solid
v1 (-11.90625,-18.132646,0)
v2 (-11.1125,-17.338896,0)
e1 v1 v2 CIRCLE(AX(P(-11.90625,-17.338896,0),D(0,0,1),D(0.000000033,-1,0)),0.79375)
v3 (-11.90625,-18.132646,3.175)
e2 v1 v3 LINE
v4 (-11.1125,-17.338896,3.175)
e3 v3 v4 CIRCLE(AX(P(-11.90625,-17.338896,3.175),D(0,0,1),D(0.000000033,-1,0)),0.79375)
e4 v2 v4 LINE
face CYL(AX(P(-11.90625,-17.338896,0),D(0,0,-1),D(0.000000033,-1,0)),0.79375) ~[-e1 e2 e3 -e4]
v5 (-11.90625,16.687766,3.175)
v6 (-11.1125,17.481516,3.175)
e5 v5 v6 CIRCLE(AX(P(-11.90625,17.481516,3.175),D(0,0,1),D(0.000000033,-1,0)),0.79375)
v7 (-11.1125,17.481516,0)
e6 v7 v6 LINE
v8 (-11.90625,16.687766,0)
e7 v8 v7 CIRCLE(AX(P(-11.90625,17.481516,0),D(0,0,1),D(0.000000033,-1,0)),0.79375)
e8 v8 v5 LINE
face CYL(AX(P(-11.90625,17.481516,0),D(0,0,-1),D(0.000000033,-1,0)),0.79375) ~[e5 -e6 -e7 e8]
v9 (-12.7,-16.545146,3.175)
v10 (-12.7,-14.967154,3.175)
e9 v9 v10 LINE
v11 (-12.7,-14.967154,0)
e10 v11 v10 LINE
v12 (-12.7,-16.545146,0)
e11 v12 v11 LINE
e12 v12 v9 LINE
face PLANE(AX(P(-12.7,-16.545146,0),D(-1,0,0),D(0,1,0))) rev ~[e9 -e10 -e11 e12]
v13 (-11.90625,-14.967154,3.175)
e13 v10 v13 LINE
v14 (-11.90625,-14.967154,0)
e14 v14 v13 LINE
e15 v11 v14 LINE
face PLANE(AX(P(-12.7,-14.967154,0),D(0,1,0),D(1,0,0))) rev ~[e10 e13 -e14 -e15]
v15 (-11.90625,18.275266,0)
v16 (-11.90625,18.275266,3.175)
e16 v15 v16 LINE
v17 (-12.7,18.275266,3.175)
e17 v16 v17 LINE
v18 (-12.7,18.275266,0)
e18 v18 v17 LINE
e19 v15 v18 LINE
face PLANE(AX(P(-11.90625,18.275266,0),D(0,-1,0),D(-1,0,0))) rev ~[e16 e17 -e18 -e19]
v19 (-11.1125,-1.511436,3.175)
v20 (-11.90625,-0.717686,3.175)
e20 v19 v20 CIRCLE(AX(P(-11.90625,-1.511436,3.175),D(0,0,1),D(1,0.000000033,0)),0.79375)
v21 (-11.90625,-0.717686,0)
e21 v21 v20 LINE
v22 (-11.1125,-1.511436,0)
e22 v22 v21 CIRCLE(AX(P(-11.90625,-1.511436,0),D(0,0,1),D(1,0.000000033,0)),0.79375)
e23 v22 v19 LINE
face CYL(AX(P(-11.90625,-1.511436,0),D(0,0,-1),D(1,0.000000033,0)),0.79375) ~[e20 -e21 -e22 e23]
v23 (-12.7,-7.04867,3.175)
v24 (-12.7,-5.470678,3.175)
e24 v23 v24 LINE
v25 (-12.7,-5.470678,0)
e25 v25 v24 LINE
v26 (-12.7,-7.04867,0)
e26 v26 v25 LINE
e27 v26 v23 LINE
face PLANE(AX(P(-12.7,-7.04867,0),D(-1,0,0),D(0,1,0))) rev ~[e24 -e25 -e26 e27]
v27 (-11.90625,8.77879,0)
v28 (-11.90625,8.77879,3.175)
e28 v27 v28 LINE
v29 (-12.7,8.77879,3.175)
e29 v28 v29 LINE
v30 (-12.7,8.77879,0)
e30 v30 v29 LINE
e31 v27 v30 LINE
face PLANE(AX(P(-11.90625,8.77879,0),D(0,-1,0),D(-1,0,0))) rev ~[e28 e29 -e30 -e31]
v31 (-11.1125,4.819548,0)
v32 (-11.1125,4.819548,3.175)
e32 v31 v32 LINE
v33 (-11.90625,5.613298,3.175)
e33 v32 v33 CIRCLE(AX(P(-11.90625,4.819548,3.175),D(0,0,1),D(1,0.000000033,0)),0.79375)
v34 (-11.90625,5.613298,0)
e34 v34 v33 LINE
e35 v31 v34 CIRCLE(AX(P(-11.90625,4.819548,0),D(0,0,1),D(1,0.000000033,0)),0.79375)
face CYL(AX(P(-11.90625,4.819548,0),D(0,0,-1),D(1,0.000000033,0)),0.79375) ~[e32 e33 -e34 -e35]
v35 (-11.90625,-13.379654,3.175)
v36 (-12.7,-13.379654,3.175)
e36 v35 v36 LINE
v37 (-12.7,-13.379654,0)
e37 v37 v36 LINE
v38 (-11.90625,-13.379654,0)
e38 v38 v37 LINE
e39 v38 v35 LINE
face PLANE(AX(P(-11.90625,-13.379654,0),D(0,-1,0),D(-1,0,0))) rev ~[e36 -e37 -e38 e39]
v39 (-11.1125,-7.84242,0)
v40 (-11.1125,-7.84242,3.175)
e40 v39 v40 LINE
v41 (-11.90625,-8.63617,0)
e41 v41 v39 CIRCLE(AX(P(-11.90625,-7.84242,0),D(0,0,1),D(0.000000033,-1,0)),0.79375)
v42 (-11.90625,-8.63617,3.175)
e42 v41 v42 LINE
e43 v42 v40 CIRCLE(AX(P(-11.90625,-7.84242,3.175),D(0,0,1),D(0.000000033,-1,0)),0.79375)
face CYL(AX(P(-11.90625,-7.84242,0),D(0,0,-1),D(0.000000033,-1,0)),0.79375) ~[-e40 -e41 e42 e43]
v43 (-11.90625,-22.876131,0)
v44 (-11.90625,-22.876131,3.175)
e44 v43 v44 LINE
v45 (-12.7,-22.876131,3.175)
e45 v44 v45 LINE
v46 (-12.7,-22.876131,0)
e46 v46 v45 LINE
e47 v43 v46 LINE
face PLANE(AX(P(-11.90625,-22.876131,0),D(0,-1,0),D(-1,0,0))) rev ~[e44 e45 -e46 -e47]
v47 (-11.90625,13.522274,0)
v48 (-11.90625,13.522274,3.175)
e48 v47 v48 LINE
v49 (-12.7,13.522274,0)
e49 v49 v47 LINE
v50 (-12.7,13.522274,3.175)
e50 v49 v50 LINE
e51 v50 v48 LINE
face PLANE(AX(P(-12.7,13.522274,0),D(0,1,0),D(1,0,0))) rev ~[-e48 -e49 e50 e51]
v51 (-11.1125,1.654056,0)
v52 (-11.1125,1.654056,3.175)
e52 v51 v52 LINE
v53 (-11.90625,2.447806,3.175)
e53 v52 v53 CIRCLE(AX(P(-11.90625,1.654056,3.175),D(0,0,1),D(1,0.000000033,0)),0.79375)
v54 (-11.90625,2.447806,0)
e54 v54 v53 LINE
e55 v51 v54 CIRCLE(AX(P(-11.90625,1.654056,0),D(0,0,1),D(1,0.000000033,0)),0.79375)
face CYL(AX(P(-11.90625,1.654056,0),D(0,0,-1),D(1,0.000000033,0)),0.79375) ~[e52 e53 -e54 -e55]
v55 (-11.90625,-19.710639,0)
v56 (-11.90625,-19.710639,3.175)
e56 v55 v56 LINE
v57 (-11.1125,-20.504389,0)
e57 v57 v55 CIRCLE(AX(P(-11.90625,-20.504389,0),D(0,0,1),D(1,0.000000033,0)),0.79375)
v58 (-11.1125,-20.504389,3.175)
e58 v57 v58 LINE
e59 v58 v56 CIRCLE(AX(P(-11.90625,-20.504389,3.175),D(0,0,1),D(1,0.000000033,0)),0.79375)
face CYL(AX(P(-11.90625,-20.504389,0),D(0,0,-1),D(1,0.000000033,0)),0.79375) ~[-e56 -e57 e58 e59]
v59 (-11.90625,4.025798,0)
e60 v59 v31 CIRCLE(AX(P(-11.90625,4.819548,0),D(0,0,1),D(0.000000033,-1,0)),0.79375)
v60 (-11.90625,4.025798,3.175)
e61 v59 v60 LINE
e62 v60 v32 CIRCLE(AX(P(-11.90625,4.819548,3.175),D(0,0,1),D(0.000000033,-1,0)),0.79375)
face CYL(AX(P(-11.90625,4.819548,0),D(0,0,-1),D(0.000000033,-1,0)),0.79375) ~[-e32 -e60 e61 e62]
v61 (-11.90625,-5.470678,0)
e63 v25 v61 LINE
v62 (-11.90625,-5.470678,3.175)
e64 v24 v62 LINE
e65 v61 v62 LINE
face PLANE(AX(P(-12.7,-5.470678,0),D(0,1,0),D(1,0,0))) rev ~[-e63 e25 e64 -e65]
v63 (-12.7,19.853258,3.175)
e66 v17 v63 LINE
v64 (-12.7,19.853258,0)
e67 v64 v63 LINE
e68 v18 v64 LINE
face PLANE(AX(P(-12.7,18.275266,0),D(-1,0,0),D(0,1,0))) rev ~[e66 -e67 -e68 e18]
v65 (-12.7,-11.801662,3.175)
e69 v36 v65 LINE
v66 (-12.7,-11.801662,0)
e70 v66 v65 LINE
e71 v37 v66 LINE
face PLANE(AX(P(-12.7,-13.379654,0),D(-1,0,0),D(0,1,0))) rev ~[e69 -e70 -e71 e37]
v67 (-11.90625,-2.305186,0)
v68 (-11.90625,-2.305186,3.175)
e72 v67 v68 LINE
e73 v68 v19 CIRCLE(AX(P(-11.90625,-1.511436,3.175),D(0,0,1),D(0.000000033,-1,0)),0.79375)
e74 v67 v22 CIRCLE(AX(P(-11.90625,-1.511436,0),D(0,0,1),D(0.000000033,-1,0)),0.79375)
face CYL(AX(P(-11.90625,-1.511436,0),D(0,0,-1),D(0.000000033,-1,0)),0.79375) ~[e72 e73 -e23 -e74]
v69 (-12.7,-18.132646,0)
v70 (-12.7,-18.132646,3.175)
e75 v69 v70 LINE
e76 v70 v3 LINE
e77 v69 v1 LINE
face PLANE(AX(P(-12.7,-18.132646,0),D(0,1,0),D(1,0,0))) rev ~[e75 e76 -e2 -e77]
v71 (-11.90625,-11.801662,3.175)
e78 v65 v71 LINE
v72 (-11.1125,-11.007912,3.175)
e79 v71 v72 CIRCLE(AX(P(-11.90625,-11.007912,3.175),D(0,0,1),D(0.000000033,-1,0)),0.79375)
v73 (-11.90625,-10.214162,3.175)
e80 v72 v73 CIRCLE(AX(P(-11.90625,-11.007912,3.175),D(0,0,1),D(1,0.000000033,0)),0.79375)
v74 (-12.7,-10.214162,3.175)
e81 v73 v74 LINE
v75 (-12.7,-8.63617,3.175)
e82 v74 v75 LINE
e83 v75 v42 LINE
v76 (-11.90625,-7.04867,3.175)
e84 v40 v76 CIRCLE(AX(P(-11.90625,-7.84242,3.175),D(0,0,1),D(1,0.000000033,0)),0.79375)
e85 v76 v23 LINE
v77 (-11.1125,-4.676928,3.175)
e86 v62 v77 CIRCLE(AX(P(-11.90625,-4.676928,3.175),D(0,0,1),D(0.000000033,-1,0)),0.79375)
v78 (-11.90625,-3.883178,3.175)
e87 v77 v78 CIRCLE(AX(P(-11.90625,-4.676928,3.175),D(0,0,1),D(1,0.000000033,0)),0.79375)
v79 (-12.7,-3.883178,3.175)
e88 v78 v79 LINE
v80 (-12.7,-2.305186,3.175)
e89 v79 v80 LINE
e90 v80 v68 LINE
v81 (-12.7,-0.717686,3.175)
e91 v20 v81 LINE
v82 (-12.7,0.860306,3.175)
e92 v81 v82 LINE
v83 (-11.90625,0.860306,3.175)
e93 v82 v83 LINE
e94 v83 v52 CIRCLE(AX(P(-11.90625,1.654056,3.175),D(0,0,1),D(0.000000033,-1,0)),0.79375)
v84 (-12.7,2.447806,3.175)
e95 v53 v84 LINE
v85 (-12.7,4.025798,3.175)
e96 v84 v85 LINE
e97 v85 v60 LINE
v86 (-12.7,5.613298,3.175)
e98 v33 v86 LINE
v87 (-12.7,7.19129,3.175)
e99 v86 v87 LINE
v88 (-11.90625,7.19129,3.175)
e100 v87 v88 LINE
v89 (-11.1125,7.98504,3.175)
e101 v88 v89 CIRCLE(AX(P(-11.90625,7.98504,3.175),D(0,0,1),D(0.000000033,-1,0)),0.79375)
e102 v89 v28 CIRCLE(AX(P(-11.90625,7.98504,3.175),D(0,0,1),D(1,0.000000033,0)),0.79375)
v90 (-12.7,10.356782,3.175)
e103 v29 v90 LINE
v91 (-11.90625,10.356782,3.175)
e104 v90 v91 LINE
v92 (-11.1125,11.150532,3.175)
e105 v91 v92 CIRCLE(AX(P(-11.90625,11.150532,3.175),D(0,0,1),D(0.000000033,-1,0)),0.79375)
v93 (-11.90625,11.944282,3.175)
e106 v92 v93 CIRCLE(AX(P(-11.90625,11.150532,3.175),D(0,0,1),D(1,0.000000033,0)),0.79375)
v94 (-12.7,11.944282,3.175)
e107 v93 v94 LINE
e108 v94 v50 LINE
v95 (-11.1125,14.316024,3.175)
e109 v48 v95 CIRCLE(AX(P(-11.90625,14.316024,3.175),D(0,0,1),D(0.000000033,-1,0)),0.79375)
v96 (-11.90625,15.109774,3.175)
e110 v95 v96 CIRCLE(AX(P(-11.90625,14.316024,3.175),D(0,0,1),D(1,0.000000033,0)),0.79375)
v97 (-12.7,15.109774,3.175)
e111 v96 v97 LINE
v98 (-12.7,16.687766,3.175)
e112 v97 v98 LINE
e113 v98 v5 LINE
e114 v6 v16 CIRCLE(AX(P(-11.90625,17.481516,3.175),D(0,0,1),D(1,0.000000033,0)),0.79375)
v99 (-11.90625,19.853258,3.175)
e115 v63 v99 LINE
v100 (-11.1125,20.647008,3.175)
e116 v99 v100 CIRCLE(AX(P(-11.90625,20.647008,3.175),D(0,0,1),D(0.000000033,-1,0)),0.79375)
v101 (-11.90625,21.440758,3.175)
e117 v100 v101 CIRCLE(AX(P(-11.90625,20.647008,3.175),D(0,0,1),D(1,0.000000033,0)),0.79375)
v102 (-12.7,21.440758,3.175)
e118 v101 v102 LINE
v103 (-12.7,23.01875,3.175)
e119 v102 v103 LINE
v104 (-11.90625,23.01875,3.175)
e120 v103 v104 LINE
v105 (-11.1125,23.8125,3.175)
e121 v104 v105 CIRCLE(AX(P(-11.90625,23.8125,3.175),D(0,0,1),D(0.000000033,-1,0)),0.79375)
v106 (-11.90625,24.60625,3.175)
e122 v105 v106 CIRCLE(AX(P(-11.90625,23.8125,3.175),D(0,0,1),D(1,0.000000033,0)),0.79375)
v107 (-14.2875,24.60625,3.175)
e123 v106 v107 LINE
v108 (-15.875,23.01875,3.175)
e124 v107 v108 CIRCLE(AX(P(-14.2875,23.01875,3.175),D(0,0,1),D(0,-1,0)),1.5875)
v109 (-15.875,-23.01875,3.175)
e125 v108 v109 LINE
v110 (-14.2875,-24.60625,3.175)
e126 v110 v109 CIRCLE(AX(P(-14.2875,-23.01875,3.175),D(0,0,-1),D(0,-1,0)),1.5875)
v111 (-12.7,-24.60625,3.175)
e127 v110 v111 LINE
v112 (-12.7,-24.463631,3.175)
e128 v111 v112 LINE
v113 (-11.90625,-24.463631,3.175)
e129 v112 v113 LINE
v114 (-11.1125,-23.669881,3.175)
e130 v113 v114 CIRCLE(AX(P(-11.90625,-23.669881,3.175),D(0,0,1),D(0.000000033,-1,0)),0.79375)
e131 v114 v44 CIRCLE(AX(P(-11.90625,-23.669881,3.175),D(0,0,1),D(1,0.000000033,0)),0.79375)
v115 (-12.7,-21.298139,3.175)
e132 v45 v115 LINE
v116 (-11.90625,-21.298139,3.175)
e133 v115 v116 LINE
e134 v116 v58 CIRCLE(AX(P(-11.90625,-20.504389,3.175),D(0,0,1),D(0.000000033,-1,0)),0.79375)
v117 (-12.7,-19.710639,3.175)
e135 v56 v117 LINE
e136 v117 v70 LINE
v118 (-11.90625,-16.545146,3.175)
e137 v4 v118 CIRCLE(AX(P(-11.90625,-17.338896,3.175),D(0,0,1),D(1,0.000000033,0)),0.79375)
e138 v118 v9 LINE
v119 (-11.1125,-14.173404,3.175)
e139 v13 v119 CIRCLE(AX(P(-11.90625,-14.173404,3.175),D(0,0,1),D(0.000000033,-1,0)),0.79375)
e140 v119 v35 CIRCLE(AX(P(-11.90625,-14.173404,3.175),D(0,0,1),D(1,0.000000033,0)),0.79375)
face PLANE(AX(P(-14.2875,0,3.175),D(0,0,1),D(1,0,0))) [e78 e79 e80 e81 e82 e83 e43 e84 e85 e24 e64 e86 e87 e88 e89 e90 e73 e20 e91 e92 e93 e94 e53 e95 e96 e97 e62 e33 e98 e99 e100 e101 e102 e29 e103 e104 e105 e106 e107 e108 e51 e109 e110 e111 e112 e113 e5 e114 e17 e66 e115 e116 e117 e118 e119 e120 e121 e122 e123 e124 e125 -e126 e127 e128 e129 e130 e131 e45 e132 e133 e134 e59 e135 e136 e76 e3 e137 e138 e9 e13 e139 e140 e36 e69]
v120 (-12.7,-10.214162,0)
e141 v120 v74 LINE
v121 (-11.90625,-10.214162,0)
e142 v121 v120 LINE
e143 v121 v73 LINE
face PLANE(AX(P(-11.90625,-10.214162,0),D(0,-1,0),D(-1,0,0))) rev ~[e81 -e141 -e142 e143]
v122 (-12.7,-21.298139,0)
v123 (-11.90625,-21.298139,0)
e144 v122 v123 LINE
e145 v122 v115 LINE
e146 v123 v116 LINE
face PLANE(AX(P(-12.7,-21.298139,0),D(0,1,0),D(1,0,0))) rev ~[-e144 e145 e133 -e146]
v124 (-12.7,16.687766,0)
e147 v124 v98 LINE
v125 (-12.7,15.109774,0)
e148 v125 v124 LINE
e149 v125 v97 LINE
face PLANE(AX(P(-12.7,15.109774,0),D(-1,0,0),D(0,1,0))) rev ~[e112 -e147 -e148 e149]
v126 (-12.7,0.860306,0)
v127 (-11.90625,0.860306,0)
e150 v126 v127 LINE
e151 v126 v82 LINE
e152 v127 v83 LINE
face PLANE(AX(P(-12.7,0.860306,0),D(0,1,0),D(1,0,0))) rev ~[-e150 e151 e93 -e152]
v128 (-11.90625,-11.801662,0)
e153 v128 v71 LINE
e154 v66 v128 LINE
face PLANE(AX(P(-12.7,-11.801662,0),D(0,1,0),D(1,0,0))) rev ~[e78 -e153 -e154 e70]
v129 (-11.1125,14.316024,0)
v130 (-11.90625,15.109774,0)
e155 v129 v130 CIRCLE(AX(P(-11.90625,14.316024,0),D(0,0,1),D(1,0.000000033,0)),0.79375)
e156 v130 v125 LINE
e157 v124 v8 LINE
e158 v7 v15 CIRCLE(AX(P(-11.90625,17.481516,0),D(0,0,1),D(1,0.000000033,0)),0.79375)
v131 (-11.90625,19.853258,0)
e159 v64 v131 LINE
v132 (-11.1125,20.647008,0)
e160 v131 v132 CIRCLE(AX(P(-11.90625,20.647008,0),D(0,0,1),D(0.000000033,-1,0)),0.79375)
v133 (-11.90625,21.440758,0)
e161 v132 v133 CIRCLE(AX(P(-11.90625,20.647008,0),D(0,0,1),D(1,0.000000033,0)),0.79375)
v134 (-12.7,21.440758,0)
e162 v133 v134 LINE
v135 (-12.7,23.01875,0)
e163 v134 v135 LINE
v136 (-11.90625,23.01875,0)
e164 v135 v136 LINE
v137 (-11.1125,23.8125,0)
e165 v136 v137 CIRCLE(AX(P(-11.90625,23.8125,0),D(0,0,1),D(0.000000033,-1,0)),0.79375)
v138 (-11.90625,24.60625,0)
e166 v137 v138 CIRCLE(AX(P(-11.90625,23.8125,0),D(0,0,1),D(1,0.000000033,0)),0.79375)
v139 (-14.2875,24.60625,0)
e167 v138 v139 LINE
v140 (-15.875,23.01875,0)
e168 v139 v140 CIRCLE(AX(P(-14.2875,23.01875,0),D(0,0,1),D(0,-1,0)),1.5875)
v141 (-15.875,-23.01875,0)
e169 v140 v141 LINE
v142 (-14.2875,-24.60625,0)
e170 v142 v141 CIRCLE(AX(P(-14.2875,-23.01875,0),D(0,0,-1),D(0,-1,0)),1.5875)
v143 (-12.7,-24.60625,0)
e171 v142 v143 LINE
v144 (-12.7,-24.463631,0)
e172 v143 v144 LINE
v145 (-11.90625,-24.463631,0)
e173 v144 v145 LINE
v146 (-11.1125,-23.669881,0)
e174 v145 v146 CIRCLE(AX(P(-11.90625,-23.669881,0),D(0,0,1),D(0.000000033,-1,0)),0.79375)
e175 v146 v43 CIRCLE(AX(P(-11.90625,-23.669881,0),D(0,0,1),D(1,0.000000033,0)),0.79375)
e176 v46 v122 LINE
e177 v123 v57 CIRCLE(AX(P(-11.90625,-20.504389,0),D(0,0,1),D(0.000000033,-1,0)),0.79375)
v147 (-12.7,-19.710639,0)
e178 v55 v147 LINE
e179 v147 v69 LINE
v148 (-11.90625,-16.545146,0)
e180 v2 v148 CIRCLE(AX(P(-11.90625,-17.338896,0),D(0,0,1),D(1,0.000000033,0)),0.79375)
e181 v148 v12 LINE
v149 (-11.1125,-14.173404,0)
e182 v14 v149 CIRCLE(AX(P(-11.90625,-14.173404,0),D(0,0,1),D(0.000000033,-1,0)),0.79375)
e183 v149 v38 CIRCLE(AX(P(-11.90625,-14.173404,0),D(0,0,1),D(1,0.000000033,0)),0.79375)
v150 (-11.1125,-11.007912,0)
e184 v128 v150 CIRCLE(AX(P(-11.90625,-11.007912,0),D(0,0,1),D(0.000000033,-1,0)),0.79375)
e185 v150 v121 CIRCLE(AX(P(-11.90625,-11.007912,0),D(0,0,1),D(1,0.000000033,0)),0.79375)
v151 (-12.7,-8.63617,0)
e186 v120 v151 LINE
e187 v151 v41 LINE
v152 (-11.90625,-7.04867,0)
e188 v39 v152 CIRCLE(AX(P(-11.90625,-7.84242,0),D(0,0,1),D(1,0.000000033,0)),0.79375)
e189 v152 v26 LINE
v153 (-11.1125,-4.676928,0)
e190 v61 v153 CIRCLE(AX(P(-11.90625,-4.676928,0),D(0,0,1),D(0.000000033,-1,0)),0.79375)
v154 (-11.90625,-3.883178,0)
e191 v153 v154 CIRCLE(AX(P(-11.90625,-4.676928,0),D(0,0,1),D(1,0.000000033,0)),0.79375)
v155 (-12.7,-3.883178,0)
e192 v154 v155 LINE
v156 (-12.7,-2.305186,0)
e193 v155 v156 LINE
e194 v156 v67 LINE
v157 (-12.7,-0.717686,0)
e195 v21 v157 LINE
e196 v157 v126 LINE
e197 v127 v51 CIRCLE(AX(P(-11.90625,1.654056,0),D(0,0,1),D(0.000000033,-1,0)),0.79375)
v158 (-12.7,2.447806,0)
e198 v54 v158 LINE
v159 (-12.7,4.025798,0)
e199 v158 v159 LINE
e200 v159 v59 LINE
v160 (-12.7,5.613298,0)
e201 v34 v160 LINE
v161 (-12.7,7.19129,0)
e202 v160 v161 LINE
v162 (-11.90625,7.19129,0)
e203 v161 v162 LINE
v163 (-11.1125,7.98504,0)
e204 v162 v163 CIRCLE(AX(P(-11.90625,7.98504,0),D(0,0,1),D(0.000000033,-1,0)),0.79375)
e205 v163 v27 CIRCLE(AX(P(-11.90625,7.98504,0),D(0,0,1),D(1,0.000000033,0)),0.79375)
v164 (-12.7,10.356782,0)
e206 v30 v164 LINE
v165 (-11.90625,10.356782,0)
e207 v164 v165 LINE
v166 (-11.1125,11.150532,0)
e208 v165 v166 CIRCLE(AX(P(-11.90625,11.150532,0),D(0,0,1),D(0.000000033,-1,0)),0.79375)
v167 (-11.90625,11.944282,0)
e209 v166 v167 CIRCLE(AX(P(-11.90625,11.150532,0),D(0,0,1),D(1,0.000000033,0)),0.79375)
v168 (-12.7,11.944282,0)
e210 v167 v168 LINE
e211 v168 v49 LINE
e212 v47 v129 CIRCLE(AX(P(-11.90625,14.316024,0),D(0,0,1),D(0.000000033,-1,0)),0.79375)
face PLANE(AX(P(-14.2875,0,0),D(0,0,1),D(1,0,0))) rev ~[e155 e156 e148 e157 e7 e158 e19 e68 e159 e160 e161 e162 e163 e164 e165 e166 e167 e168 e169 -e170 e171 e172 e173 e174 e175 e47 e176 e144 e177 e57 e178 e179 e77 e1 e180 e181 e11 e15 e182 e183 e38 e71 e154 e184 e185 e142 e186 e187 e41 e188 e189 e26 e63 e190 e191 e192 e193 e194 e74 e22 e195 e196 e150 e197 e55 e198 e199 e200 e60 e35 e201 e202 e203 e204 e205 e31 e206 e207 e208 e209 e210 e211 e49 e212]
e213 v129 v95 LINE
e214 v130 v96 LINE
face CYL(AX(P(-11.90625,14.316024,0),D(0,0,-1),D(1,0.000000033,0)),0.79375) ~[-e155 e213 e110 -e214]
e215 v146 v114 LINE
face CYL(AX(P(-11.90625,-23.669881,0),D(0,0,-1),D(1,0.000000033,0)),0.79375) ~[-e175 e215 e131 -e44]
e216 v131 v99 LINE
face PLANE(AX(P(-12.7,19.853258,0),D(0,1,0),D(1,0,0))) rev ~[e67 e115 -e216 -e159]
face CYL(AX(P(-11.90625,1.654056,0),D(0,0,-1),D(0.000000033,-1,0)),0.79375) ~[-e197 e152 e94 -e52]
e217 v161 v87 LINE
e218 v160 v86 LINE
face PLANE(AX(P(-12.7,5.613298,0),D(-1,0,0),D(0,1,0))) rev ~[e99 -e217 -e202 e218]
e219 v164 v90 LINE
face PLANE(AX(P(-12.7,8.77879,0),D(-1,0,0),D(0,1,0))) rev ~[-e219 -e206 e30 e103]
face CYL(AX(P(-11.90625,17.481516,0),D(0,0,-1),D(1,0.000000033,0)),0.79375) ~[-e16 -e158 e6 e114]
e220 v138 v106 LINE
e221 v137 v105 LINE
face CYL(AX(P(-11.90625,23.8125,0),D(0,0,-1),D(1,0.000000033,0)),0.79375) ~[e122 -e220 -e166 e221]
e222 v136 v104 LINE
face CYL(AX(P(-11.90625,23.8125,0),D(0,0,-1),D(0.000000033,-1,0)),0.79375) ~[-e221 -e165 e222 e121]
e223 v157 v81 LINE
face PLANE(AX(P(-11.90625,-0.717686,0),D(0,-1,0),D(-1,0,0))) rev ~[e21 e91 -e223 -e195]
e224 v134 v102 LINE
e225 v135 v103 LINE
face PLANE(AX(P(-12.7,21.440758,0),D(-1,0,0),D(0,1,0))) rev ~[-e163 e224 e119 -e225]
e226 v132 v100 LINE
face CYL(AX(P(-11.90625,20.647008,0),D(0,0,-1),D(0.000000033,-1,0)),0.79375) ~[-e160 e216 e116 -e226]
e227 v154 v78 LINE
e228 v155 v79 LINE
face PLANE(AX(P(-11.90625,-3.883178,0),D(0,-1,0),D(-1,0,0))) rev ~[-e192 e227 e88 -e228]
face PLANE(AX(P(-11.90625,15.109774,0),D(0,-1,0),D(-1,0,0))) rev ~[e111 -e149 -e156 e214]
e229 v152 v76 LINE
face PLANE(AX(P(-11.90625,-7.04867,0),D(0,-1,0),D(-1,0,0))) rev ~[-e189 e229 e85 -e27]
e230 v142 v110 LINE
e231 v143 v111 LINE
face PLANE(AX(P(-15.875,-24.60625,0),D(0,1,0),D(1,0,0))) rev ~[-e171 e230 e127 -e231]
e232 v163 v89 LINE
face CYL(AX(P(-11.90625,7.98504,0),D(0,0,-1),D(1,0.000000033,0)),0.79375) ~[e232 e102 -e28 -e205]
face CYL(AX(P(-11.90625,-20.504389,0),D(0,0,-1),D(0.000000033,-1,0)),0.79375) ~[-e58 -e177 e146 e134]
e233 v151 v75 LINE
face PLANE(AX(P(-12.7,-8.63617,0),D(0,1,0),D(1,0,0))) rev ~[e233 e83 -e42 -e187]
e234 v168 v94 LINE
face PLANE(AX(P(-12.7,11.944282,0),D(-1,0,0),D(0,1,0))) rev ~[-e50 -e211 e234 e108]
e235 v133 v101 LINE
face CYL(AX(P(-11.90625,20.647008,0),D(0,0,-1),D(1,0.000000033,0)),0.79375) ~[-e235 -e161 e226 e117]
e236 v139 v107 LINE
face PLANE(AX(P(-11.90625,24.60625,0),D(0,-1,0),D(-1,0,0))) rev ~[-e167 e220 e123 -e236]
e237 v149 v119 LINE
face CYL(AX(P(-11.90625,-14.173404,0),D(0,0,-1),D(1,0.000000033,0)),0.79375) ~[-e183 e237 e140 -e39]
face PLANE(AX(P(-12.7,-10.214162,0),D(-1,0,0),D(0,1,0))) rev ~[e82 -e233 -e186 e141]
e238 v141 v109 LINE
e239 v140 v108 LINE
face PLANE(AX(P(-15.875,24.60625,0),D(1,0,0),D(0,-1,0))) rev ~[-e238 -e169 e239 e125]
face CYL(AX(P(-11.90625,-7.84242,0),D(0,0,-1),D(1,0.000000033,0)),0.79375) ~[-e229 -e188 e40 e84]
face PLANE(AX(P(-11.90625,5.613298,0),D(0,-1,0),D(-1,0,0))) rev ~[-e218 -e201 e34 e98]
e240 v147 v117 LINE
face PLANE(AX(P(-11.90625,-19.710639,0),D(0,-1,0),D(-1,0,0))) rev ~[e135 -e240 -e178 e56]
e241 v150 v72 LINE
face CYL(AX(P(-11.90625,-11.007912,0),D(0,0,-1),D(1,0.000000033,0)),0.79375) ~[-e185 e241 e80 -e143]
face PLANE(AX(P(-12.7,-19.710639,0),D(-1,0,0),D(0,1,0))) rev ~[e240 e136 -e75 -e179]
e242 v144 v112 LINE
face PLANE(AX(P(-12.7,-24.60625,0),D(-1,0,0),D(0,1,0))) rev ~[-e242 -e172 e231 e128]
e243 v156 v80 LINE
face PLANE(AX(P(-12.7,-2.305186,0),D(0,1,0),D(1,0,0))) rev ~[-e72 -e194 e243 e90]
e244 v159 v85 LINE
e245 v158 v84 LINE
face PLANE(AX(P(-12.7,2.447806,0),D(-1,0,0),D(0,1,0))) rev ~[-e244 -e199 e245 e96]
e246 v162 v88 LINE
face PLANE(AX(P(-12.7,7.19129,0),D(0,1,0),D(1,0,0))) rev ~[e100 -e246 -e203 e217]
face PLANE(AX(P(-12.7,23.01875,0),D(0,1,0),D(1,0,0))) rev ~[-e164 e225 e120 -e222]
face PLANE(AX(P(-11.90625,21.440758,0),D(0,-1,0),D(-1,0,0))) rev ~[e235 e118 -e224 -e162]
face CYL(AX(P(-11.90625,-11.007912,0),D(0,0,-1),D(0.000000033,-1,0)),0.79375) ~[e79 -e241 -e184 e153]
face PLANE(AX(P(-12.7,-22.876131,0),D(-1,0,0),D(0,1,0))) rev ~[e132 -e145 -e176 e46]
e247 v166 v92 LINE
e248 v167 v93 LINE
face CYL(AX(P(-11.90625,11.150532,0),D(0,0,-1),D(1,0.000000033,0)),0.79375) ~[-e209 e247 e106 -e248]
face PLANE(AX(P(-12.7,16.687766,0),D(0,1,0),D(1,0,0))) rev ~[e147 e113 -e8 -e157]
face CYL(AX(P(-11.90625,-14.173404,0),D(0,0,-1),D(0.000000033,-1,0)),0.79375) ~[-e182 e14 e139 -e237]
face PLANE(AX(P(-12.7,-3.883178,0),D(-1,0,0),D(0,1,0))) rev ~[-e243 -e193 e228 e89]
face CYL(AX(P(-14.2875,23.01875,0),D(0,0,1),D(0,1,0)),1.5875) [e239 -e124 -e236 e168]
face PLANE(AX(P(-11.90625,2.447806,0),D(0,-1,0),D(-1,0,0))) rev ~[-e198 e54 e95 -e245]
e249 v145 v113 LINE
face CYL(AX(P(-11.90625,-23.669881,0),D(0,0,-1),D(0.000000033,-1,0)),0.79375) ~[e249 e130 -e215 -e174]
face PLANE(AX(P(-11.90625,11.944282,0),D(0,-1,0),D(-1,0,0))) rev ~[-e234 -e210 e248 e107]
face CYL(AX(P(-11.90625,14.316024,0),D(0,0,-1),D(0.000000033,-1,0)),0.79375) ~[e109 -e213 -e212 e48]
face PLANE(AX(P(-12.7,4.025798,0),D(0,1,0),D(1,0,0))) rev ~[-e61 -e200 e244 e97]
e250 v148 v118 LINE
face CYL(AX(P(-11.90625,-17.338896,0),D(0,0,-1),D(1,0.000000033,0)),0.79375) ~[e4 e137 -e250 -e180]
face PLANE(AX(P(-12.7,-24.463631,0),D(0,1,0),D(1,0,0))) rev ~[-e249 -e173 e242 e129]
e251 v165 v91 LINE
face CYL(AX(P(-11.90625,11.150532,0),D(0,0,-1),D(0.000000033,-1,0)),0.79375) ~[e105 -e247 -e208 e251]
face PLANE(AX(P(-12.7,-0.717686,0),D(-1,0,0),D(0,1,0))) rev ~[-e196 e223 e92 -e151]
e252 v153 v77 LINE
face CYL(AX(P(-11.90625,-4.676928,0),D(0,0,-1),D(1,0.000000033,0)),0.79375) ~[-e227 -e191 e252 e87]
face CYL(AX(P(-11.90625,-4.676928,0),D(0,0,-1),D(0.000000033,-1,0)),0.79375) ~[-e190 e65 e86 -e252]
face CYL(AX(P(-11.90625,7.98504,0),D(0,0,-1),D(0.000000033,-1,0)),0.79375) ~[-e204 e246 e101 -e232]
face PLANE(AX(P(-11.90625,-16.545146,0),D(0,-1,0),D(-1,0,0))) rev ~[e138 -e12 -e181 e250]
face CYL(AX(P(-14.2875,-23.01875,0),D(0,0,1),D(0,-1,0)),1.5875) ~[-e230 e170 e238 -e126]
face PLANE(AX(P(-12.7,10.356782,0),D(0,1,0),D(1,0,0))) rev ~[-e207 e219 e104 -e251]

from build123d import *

# Parameters (mm, degrees)
F1_DEPTH = 3.175
F2_R     = 1.5875


with BuildPart() as f1:
    # F0 (on Top) → F1 (new body)
    with BuildSketch(Plane.XY):
        Polygon((-15.875, -24.60625), (-12.7, -24.60625), (-12.7, -24.463631), (-12.7, -22.876131), (-12.7, -21.298139), (-12.7, -19.710639), (-12.7, -18.132646), (-12.7, -16.545146), (-12.7, -14.967154), (-12.7, -13.379654), (-12.7, -11.801662), (-12.7, -10.214162), (-12.7, -8.63617), (-12.7, -7.04867), (-12.7, -5.470678), (-12.7, -3.883178), (-12.7, -2.305186), (-12.7, -0.717686), (-12.7, 0.860306), (-12.7, 2.447806), (-12.7, 4.025798), (-12.7, 5.613298), (-12.7, 7.19129), (-12.7, 8.77879), (-12.7, 10.356782), (-12.7, 11.944282), (-12.7, 13.522274), (-12.7, 15.109774), (-12.7, 16.687766), (-12.7, 18.275266), (-12.7, 19.853258), (-12.7, 21.440758), (-12.7, 23.01875), (-12.7, 24.60625), (-15.875, 24.60625), align=None)
        with BuildLine():
            Line((-12.7, -22.876131), (-12.7, -24.463631))
            Line((-12.7, -24.463631), (-11.90625, -24.463631))
            ThreePointArc((-11.90625, -24.463631), (-11.344984, -24.231147), (-11.1125, -23.669881))
            ThreePointArc((-11.1125, -23.669881), (-11.344984, -23.108615), (-11.90625, -22.876131))
            Line((-11.90625, -22.876131), (-12.7, -22.876131))
        make_face()
        with BuildLine():
            Line((-12.7, -19.710639), (-12.7, -21.298139))
            Line((-12.7, -21.298139), (-11.90625, -21.298139))
            ThreePointArc((-11.90625, -21.298139), (-11.344984, -21.065655), (-11.1125, -20.504389))
            ThreePointArc((-11.1125, -20.504389), (-11.344984, -19.943123), (-11.90625, -19.710639))
            Line((-11.90625, -19.710639), (-12.7, -19.710639))
        make_face()
        with BuildLine():
            Line((-12.7, -16.545146), (-12.7, -18.132646))
            Line((-12.7, -18.132646), (-11.90625, -18.132646))
            ThreePointArc((-11.90625, -18.132646), (-11.344984, -17.900162), (-11.1125, -17.338896))
            ThreePointArc((-11.1125, -17.338896), (-11.344984, -16.77763), (-11.90625, -16.545146))
            Line((-11.90625, -16.545146), (-12.7, -16.545146))
        make_face()
        with BuildLine():
            Line((-12.7, -13.379654), (-12.7, -14.967154))
            Line((-12.7, -14.967154), (-11.90625, -14.967154))
            ThreePointArc((-11.90625, -14.967154), (-11.344984, -14.73467), (-11.1125, -14.173404))
            ThreePointArc((-11.1125, -14.173404), (-11.344984, -13.612138), (-11.90625, -13.379654))
            Line((-11.90625, -13.379654), (-12.7, -13.379654))
        make_face()
        with BuildLine():
            Line((-12.7, -10.214162), (-12.7, -11.801662))
            Line((-12.7, -11.801662), (-11.90625, -11.801662))
            ThreePointArc((-11.90625, -11.801662), (-11.344984, -11.569178), (-11.1125, -11.007912))
            ThreePointArc((-11.1125, -11.007912), (-11.344984, -10.446646), (-11.90625, -10.214162))
            Line((-11.90625, -10.214162), (-12.7, -10.214162))
        make_face()
        with BuildLine():
            Line((-12.7, -7.04867), (-12.7, -8.63617))
            Line((-12.7, -8.63617), (-11.90625, -8.63617))
            ThreePointArc((-11.90625, -8.63617), (-11.344984, -8.403686), (-11.1125, -7.84242))
            ThreePointArc((-11.1125, -7.84242), (-11.344984, -7.281154), (-11.90625, -7.04867))
            Line((-11.90625, -7.04867), (-12.7, -7.04867))
        make_face()
        with BuildLine():
            Line((-12.7, -3.883178), (-12.7, -5.470678))
            Line((-12.7, -5.470678), (-11.90625, -5.470678))
            ThreePointArc((-11.90625, -5.470678), (-11.344984, -5.238194), (-11.1125, -4.676928))
            ThreePointArc((-11.1125, -4.676928), (-11.344984, -4.115662), (-11.90625, -3.883178))
            Line((-11.90625, -3.883178), (-12.7, -3.883178))
        make_face()
        with BuildLine():
            Line((-12.7, -0.717686), (-12.7, -2.305186))
            Line((-12.7, -2.305186), (-11.90625, -2.305186))
            ThreePointArc((-11.90625, -2.305186), (-11.344984, -2.072702), (-11.1125, -1.511436))
            ThreePointArc((-11.1125, -1.511436), (-11.344984, -0.95017), (-11.90625, -0.717686))
            Line((-11.90625, -0.717686), (-12.7, -0.717686))
        make_face()
        with BuildLine():
            Line((-11.90625, 2.447806), (-12.7, 2.447806))
            Line((-12.7, 2.447806), (-12.7, 0.860306))
            Line((-12.7, 0.860306), (-11.90625, 0.860306))
            ThreePointArc((-11.90625, 0.860306), (-11.344984, 1.09279), (-11.1125, 1.654056))
            ThreePointArc((-11.1125, 1.654056), (-11.344984, 2.215322), (-11.90625, 2.447806))
        make_face()
        with BuildLine():
            Line((-11.90625, 5.613298), (-12.7, 5.613298))
            Line((-12.7, 5.613298), (-12.7, 4.025798))
            Line((-12.7, 4.025798), (-11.90625, 4.025798))
            ThreePointArc((-11.90625, 4.025798), (-11.344984, 4.258282), (-11.1125, 4.819548))
            ThreePointArc((-11.1125, 4.819548), (-11.344984, 5.380814), (-11.90625, 5.613298))
        make_face()
        with BuildLine():
            Line((-11.90625, 8.77879), (-12.7, 8.77879))
            Line((-12.7, 8.77879), (-12.7, 7.19129))
            Line((-12.7, 7.19129), (-11.90625, 7.19129))
            ThreePointArc((-11.90625, 7.19129), (-11.344984, 7.423774), (-11.1125, 7.98504))
            ThreePointArc((-11.1125, 7.98504), (-11.344984, 8.546306), (-11.90625, 8.77879))
        make_face()
        with BuildLine():
            Line((-11.90625, 11.944282), (-12.7, 11.944282))
            Line((-12.7, 11.944282), (-12.7, 10.356782))
            Line((-12.7, 10.356782), (-11.90625, 10.356782))
            ThreePointArc((-11.90625, 10.356782), (-11.344984, 10.589266), (-11.1125, 11.150532))
            ThreePointArc((-11.1125, 11.150532), (-11.344984, 11.711798), (-11.90625, 11.944282))
        make_face()
        with BuildLine():
            Line((-11.90625, 15.109774), (-12.7, 15.109774))
            Line((-12.7, 15.109774), (-12.7, 13.522274))
            Line((-12.7, 13.522274), (-11.90625, 13.522274))
            ThreePointArc((-11.90625, 13.522274), (-11.344984, 13.754758), (-11.1125, 14.316024))
            ThreePointArc((-11.1125, 14.316024), (-11.344984, 14.87729), (-11.90625, 15.109774))
        make_face()
        with BuildLine():
            Line((-11.90625, 18.275266), (-12.7, 18.275266))
            Line((-12.7, 18.275266), (-12.7, 16.687766))
            Line((-12.7, 16.687766), (-11.90625, 16.687766))
            ThreePointArc((-11.90625, 16.687766), (-11.344984, 16.92025), (-11.1125, 17.481516))
            ThreePointArc((-11.1125, 17.481516), (-11.344984, 18.042782), (-11.90625, 18.275266))
        make_face()
        with BuildLine():
            Line((-11.90625, 21.440758), (-12.7, 21.440758))
            Line((-12.7, 21.440758), (-12.7, 19.853258))
            Line((-12.7, 19.853258), (-11.90625, 19.853258))
            ThreePointArc((-11.90625, 19.853258), (-11.344984, 20.085742), (-11.1125, 20.647008))
            ThreePointArc((-11.1125, 20.647008), (-11.344984, 21.208274), (-11.90625, 21.440758))
        make_face()
        with BuildLine():
            Line((-11.90625, 24.60625), (-12.7, 24.60625))
            Line((-12.7, 24.60625), (-12.7, 23.01875))
            Line((-12.7, 23.01875), (-11.90625, 23.01875))
            ThreePointArc((-11.90625, 23.01875), (-11.344984, 23.251234), (-11.1125, 23.8125))
            ThreePointArc((-11.1125, 23.8125), (-11.344984, 24.373766), (-11.90625, 24.60625))
        make_face()
    extrude(amount=F1_DEPTH)

    # F2
    f2_edges = [f1.edges().sort_by_distance(p)[0] for p in [
        (-15.875, 24.60625, 1.5875),
        (-15.875, -24.60625, 1.5875),
    ]]
    fillet(f2_edges, radius=F2_R)


solid = f1.part
